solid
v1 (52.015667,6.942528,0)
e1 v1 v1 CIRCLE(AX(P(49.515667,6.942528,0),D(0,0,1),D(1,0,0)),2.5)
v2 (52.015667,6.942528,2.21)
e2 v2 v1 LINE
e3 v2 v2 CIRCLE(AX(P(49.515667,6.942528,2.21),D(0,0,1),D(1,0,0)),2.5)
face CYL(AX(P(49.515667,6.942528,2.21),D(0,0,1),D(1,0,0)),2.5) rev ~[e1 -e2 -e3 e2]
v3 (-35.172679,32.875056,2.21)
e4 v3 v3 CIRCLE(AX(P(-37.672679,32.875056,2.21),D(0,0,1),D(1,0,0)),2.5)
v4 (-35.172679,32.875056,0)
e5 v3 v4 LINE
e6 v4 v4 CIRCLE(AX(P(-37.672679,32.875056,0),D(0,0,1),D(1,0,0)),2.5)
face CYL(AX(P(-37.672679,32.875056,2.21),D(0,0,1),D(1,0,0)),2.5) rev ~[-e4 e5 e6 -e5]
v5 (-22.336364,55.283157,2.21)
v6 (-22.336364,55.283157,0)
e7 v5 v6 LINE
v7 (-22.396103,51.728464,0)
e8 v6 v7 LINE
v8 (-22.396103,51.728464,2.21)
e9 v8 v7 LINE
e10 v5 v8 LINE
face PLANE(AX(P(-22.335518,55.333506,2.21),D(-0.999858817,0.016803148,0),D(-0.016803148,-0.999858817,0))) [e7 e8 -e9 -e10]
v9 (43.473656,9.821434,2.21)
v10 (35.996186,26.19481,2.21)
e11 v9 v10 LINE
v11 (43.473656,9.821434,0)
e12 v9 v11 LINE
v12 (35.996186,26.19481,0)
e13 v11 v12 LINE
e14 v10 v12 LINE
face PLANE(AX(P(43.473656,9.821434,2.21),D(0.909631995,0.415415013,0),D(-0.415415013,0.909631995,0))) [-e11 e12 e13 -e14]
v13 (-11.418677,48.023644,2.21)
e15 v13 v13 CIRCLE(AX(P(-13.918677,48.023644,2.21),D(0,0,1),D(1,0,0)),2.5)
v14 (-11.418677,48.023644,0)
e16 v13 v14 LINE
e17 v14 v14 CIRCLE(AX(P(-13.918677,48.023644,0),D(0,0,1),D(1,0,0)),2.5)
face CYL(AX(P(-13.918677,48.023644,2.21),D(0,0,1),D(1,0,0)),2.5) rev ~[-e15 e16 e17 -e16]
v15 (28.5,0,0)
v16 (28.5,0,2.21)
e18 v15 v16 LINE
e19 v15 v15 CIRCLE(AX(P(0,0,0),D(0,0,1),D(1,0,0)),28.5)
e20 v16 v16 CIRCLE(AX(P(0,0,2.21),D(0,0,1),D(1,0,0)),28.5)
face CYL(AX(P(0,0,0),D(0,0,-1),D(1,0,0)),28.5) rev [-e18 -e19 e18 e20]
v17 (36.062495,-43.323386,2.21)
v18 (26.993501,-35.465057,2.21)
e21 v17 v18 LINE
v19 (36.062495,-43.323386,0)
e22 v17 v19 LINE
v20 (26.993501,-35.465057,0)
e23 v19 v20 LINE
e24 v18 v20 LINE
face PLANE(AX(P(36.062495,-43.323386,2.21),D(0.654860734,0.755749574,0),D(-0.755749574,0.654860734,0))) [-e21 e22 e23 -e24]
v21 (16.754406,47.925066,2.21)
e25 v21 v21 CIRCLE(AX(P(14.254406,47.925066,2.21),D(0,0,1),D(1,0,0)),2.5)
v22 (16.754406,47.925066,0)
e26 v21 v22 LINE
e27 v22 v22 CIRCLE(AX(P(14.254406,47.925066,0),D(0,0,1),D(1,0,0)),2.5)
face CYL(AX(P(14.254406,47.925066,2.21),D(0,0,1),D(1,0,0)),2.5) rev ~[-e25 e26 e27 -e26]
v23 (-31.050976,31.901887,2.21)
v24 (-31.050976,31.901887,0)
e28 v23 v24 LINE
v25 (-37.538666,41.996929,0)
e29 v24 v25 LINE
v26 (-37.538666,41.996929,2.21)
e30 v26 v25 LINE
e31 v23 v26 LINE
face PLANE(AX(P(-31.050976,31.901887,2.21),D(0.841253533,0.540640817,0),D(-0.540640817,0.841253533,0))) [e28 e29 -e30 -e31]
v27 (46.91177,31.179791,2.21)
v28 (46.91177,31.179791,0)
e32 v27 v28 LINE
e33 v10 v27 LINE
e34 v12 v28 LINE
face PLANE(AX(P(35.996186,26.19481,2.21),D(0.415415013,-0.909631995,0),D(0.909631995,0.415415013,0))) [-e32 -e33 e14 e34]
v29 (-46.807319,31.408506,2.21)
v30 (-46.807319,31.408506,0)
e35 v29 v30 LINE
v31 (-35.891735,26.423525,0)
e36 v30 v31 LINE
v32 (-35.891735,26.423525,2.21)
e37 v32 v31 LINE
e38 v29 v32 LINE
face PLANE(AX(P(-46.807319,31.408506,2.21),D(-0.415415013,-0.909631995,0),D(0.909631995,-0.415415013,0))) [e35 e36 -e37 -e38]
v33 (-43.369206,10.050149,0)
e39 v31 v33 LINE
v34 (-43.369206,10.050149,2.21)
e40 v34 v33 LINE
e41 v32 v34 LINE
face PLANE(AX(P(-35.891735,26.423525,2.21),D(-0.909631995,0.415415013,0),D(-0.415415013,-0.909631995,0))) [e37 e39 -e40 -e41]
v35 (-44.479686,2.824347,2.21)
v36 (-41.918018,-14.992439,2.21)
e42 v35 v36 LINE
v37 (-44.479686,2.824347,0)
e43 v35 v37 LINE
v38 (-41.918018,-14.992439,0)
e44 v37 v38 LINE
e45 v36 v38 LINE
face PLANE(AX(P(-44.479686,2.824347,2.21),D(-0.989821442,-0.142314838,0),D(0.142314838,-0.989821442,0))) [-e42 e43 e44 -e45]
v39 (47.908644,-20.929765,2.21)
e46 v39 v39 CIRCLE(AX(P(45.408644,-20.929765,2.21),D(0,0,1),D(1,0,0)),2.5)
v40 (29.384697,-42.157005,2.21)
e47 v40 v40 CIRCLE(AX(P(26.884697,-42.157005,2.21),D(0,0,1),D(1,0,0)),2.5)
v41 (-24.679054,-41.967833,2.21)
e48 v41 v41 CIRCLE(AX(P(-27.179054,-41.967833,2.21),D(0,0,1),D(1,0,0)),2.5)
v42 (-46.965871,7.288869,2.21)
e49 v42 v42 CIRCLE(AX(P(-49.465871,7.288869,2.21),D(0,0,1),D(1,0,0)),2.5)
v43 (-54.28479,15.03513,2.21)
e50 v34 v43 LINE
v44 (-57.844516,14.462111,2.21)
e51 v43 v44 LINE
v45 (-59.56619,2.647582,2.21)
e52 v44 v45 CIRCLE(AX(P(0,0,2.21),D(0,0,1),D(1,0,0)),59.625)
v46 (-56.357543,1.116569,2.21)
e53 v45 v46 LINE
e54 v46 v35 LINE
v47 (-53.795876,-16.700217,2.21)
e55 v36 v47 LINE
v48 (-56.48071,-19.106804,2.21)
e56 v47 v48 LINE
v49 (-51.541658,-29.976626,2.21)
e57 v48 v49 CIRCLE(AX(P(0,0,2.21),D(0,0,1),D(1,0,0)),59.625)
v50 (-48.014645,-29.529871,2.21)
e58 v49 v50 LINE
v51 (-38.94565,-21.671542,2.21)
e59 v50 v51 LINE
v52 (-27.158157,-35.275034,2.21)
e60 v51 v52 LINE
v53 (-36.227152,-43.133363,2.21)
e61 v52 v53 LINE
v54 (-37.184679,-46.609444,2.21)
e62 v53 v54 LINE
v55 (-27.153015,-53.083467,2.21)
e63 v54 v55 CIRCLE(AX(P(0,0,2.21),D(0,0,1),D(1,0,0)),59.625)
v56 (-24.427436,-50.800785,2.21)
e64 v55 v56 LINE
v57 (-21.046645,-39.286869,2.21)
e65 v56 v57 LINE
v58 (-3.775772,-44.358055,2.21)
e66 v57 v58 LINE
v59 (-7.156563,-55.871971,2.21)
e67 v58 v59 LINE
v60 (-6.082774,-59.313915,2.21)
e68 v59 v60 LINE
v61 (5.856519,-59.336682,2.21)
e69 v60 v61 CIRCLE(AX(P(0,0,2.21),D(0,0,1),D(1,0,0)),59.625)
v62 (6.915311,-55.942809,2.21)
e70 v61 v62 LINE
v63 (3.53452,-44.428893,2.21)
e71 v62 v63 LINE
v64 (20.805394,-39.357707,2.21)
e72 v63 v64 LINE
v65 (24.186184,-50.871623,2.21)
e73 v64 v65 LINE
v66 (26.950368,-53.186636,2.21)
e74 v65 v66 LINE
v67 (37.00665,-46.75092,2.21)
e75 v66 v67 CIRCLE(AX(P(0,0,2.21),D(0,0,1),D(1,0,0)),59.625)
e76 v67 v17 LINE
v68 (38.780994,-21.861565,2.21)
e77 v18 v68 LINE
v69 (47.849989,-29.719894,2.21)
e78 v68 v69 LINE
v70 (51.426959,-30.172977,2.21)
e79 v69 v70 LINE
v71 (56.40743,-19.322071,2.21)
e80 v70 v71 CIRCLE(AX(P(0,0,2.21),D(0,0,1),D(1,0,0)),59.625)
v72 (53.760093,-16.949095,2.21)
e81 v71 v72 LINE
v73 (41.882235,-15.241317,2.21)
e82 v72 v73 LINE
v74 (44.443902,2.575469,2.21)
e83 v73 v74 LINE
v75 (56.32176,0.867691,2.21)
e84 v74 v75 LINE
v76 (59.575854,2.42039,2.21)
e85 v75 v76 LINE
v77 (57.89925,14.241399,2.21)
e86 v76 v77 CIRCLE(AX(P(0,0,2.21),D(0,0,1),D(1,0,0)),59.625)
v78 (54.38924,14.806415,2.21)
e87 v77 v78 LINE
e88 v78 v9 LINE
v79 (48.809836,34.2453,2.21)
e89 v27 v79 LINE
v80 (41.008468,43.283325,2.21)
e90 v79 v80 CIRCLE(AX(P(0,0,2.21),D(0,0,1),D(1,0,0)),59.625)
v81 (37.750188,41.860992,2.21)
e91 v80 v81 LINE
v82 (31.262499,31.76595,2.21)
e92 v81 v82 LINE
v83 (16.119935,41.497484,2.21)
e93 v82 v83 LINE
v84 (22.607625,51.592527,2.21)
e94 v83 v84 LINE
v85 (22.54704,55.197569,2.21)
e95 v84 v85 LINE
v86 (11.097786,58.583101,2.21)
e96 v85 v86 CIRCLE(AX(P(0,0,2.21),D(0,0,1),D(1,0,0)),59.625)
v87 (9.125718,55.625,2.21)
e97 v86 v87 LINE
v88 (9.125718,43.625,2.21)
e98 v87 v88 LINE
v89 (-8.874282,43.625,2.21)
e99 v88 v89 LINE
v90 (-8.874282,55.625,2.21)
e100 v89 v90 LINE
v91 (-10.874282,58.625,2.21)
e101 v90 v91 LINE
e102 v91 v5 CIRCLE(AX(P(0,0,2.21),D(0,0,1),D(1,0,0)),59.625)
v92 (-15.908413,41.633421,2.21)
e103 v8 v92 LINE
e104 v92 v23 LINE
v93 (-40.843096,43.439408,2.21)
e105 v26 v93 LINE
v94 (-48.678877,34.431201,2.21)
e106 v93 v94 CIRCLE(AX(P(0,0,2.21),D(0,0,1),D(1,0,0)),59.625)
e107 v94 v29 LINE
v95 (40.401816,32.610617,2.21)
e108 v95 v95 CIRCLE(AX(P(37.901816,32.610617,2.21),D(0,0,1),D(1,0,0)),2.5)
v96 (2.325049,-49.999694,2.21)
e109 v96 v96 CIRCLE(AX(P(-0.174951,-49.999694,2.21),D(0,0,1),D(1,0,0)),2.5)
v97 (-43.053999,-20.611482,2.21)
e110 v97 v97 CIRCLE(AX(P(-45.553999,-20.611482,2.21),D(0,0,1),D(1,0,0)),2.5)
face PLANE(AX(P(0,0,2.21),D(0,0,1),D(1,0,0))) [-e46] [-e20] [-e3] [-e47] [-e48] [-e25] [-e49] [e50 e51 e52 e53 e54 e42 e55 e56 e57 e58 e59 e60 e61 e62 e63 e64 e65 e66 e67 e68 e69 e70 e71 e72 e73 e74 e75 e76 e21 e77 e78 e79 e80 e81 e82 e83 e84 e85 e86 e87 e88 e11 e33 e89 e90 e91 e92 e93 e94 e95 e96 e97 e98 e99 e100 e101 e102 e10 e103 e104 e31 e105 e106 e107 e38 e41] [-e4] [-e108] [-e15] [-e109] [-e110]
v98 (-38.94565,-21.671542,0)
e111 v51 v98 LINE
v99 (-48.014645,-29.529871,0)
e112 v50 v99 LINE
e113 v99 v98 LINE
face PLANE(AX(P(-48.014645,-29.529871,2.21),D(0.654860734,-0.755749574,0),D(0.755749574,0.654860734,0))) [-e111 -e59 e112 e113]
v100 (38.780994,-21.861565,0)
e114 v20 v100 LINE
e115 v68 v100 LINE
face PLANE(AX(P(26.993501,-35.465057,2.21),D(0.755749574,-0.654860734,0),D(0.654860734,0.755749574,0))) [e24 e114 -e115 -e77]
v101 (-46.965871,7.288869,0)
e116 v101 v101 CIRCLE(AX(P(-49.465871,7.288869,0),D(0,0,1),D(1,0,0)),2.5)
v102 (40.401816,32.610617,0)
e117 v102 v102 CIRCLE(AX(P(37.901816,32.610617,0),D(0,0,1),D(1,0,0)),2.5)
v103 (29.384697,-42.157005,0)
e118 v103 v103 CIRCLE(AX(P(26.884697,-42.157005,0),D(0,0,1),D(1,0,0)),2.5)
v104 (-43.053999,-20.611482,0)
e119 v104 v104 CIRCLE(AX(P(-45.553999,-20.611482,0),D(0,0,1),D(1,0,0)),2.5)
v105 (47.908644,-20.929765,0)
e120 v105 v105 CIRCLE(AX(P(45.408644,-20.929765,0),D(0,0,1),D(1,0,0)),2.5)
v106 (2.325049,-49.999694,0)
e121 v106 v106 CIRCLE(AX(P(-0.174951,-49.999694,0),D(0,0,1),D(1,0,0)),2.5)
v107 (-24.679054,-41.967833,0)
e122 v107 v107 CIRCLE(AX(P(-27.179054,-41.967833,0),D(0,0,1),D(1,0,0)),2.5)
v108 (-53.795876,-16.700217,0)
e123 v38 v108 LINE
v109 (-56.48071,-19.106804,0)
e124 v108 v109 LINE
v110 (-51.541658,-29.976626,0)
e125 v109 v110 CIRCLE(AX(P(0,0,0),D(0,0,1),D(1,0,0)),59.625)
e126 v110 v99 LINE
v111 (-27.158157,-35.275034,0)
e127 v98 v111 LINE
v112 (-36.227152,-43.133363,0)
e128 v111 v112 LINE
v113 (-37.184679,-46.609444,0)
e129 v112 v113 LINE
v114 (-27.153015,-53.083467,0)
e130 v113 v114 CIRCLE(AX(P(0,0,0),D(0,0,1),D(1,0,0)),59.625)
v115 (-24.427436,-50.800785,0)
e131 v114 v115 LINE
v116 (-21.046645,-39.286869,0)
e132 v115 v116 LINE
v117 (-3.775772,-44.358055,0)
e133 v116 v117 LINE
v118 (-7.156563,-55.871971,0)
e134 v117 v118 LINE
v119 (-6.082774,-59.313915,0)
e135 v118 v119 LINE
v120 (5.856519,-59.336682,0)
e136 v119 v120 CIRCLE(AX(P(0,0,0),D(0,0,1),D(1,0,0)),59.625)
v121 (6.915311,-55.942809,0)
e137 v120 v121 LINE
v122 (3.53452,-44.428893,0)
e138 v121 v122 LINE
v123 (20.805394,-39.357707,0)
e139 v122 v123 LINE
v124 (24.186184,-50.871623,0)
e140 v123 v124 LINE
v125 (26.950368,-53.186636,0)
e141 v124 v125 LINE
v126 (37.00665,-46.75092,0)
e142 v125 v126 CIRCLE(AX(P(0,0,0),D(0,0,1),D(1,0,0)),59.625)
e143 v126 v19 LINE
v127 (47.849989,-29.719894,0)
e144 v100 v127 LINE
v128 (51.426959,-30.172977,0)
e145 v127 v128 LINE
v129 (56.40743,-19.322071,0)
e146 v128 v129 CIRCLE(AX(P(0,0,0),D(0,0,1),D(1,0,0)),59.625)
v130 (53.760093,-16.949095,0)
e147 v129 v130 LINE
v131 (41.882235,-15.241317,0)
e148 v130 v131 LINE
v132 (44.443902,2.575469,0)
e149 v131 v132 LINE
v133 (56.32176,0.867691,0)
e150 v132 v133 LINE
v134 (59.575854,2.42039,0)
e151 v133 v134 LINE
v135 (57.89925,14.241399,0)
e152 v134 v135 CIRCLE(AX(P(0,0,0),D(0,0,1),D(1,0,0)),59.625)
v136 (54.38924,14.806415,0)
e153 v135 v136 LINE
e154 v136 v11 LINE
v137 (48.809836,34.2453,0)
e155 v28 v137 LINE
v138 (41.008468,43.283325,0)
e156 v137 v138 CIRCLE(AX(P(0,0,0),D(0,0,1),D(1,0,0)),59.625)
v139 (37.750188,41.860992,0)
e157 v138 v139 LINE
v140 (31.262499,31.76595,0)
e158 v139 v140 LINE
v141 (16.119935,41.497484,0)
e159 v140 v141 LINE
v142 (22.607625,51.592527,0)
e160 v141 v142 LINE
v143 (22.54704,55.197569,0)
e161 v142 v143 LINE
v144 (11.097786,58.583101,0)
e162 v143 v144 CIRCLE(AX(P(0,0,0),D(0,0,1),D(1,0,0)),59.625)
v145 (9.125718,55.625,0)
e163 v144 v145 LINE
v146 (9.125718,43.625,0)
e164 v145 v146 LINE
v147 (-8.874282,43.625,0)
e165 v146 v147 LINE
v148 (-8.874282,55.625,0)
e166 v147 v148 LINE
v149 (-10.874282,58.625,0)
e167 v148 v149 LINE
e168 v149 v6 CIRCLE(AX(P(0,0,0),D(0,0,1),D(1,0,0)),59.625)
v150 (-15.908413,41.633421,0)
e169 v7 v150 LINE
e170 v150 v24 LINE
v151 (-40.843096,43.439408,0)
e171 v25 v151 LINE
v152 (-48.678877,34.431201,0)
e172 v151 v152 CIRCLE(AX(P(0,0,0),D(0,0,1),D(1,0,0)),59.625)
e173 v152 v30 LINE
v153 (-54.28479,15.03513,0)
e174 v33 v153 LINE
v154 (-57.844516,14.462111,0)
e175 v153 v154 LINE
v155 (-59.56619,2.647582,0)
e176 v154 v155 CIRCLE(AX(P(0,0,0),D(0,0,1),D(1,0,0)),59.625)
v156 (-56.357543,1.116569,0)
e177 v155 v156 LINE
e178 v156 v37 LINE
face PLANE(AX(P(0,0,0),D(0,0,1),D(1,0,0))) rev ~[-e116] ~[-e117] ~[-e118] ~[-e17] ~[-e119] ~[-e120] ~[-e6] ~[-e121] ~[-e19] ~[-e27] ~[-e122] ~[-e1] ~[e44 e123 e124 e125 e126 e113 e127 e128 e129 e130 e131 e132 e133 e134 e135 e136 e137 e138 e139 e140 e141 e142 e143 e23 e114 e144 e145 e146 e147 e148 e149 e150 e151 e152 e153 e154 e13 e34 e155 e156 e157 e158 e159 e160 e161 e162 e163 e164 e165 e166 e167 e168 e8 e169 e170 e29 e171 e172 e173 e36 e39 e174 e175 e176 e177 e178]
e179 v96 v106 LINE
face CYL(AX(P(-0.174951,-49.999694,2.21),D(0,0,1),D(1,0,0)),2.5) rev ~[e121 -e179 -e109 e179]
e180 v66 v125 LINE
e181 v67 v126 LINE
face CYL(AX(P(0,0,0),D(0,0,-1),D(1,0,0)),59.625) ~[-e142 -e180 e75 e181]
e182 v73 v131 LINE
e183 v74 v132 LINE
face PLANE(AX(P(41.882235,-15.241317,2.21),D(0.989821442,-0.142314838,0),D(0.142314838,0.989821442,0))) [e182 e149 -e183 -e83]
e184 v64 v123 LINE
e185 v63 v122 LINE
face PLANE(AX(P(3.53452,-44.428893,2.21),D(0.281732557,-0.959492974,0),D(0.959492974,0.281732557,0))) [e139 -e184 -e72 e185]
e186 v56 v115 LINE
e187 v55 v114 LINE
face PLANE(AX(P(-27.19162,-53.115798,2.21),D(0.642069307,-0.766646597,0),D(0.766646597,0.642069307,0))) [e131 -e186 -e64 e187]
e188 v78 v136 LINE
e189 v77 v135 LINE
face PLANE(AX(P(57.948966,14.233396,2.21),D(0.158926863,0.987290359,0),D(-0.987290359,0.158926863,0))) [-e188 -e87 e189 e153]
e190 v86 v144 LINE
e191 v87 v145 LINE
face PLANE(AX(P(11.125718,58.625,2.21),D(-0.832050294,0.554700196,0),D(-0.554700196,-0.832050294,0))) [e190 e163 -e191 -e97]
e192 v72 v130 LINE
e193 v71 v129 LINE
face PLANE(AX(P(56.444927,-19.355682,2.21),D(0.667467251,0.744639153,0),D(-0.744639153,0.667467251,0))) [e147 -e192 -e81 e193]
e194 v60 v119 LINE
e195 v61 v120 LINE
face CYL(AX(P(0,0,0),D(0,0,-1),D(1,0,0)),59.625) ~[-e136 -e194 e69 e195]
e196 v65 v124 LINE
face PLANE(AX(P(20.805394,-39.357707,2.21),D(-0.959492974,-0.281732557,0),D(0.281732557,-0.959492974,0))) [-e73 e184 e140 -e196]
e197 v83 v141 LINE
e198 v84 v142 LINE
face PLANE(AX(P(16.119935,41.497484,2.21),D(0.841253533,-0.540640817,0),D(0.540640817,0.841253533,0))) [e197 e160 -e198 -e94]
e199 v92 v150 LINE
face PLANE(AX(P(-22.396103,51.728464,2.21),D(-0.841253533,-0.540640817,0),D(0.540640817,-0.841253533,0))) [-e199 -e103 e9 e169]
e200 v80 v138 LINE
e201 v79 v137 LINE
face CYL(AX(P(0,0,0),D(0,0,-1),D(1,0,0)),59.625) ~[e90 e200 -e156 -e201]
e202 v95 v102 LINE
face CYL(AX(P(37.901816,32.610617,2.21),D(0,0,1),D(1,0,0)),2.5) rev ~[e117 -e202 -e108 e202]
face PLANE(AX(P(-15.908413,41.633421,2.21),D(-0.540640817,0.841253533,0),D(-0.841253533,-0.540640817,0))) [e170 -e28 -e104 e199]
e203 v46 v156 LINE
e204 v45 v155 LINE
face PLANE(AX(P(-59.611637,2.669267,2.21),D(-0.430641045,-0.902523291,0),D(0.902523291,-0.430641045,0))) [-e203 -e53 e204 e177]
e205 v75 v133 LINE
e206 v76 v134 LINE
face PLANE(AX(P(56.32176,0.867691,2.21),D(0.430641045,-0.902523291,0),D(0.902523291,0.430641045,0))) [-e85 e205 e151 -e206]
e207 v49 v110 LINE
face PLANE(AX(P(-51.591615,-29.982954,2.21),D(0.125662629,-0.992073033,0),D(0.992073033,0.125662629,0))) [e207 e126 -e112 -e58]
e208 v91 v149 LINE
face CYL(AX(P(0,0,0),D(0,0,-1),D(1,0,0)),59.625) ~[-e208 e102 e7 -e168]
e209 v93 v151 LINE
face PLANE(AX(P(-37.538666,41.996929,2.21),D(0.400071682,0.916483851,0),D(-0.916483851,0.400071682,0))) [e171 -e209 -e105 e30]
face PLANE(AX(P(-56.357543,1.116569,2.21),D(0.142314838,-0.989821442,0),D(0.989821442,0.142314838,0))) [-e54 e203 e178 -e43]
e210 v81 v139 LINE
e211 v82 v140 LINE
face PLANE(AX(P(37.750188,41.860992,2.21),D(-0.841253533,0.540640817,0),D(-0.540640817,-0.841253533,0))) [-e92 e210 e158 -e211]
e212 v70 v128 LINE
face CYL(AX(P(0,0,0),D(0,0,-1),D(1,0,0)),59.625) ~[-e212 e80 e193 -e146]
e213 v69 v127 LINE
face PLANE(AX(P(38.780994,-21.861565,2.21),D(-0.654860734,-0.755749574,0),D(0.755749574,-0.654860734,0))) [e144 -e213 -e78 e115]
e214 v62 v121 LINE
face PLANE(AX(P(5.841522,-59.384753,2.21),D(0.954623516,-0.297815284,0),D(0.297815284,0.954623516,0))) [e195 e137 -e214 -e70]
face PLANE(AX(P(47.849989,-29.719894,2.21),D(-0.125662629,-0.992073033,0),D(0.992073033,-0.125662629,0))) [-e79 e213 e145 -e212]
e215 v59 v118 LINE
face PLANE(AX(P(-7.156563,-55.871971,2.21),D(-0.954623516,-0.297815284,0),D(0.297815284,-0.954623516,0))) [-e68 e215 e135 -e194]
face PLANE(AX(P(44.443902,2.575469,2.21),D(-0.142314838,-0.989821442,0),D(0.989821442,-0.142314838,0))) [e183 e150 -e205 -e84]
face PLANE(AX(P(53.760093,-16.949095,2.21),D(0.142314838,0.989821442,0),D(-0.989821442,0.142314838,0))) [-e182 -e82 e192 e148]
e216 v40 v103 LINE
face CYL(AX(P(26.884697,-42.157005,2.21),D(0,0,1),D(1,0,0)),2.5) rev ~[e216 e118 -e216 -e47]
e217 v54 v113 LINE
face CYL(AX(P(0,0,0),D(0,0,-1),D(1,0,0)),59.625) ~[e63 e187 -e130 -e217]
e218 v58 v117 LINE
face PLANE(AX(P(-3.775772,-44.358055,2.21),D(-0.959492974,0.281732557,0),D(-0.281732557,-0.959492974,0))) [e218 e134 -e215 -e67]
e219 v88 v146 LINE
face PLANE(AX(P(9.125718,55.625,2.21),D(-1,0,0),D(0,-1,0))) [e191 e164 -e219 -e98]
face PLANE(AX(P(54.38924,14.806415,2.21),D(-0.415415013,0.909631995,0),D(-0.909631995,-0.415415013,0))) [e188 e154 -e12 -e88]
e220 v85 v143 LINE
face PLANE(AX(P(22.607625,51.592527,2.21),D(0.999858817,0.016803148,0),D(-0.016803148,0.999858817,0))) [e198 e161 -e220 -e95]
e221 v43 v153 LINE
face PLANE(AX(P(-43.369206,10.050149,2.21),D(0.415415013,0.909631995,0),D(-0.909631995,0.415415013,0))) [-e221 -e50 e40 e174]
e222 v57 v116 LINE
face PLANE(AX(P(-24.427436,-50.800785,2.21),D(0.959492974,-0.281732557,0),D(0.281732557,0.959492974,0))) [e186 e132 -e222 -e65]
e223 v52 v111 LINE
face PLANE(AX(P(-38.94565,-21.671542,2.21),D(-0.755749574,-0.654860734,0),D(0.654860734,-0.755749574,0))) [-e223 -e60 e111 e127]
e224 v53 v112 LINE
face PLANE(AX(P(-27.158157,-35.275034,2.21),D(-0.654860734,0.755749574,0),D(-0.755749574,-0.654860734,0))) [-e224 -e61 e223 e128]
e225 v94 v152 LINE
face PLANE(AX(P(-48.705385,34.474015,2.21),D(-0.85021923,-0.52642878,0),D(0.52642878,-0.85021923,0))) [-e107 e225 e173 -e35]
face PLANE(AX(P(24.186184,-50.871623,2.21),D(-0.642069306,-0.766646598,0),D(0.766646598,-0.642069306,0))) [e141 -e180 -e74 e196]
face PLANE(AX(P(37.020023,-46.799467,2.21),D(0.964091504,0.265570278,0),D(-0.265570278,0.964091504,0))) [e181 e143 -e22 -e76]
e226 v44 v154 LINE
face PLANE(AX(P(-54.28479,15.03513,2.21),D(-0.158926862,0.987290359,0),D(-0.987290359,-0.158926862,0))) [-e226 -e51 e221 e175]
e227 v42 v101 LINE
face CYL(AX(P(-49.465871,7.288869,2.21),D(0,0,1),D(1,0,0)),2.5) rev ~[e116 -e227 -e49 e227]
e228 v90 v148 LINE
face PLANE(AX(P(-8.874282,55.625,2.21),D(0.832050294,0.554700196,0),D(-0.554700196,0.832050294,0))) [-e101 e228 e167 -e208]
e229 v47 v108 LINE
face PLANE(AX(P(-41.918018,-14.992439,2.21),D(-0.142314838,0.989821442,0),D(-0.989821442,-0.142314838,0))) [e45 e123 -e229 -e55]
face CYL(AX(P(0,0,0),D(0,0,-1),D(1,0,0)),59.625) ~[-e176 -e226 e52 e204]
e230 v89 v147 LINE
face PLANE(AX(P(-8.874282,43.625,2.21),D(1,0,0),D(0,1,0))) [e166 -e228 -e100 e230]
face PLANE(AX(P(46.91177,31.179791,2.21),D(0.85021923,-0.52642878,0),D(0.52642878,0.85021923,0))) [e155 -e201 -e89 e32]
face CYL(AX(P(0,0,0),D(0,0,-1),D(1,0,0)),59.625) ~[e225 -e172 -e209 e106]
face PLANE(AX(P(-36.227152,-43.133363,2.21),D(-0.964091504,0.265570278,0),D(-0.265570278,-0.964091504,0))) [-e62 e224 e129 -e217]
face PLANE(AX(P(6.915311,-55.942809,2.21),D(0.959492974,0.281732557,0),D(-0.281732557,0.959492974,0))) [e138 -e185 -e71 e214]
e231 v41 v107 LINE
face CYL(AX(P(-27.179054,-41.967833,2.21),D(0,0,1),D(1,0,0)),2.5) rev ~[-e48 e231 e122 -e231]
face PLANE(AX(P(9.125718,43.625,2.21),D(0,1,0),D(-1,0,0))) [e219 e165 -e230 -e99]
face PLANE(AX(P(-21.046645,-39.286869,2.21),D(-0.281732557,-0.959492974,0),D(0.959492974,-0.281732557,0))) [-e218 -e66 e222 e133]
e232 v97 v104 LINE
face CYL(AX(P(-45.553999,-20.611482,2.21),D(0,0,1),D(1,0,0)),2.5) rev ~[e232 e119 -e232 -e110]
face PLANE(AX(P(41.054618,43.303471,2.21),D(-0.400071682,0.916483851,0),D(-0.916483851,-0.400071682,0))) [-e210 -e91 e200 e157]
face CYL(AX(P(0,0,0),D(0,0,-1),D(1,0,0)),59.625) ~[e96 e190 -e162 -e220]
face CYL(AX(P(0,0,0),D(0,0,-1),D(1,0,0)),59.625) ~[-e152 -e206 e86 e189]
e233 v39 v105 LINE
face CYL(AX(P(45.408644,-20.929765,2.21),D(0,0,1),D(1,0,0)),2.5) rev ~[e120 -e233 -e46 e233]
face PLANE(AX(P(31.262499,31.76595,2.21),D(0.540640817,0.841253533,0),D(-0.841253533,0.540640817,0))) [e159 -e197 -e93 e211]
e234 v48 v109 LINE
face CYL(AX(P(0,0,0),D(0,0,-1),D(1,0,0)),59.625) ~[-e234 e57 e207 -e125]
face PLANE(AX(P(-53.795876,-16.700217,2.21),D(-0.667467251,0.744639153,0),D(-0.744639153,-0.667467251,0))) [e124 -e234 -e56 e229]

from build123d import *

# Parameters (mm, degrees)
SKETCH1_R           = 59.625
SKETCH1_R_2         = 28.5
BOSS_EXTRUDE1_DEPTH = 2.21
CUT_EXTRUDE2_DEPTH  = 2.21
SKETCH6_R           = 2.5
CUT_EXTRUDE4_DEPTH  = 2.21


with BuildPart() as part:
    # Sketch1 → Boss-Extrude1 (new body)
    with BuildSketch(Plane.XY):
        Circle(SKETCH1_R)
        Circle(SKETCH1_R_2, mode=Mode.SUBTRACT)
    extrude(amount=BOSS_EXTRUDE1_DEPTH)

    # Sketch2 → Cut-Extrude2 (cut)
    with BuildSketch(Plane.XY.offset(2.21)):
        Polygon((-8.874281585, 55.625), (-10.874281585, 58.625), (-8.874281585, 59.625), (9.125718415, 59.625), (11.125718415, 58.625), (9.125718415, 55.625), (9.125718415, 43.625), (-8.874281585, 43.625), align=None)
        Polygon((22.607624736, 51.592526614), (22.547040123, 55.197568848), (24.770188006, 54.957540746), (39.912751597, 45.226006032), (41.054617845, 43.303470864), (37.750188327, 41.8609919), (31.262498517, 31.765949506), (16.119934926, 41.49748422), align=None)
        Polygon((46.911769941, 31.179790564), (48.809835901, 34.245299594), (50.550297923, 32.841450616), (58.027768157, 16.4680747), (57.948966187, 14.233395696), (54.389240175, 14.806414648), (43.473656231, 9.821434492), (35.996185997, 26.194810408), align=None)
        Polygon((56.321759653, 0.867691316), (59.575853655, 2.420389685), (60.281045421, 0.298431963), (57.719378332, -17.518353991), (56.444927213, -19.355682037), (53.760092564, -16.949094638), (41.882235262, -15.241316579), (44.443902351, 2.575469375), align=None)
        Polygon((47.849988626, -29.719893795), (51.426958817, -30.172976848), (50.872986923, -32.339336731), (39.085493712, -45.942829069), (37.02002267, -46.799467484), (36.062495415, -43.323386133), (26.993500522, -35.465057326), (38.780993734, -21.861564987), align=None)
        Polygon((24.186184301, -50.871622616), (26.950367919, -53.186636423), (25.313114529, -54.709594511), (8.042241004, -59.780780534), (5.8415225, -59.384752674), (6.915310776, -55.942808639), (3.534520094, -44.428892956), (20.805393619, -39.357706933), align=None)
        Polygon((-7.156562647, -55.871970699), (-6.08277437, -59.313914733), (-8.283492875, -59.709942593), (-25.5543664, -54.63875657), (-27.19161979, -53.115798483), (-24.427436172, -50.800784675), (-21.04664549, -39.286868992), (-3.775771965, -44.358055015), align=None)
        Polygon((-36.227151521, -43.133362857), (-37.184678776, -46.609444207), (-39.250149819, -45.752805792), (-51.03764303, -32.149313454), (-51.591614923, -29.982953571), (-48.014644732, -29.529870518), (-38.94564984, -21.671541711), (-27.158156629, -35.275034049), align=None)
        Polygon((-53.795875756, -16.700217074), (-56.480710405, -19.106804472), (-57.755161524, -17.269476427), (-60.316828612, 0.547309527), (-59.611636847, 2.669267249), (-56.357542845, 1.11656888), (-44.479685542, 2.82434694), (-41.918018453, -14.992439014), align=None)
        Polygon((-54.284789542, 15.035129632), (-57.844515554, 14.462110681), (-57.923317523, 16.696789684), (-50.445847289, 33.070165601), (-48.705385268, 34.474014578), (-46.807319308, 31.408505549), (-35.891735364, 26.423525393), (-43.369205598, 10.050149476), align=None)
        Polygon((-37.538666206, 41.996928913), (-40.843095724, 43.439407877), (-39.701229476, 45.361943044), (-24.558665885, 55.093477759), (-22.335518002, 55.333505861), (-22.396102615, 51.728463627), (-15.908412806, 41.633421233), (-31.050976397, 31.901886519), align=None)
    extrude(amount=-CUT_EXTRUDE2_DEPTH, mode=Mode.SUBTRACT)

    # Sketch6 → Cut-Extrude4 (cut)
    with BuildSketch(Plane.XY.offset(2.21)):
        with Locations((-13.918677225, 48.02364443)):
            Circle(SKETCH6_R)
        with Locations((14.254405994, 47.925065569)):
            Circle(SKETCH6_R)
        with Locations((37.901816027, 32.610617012)):
            Circle(SKETCH6_R)
        with Locations((49.515667272, 6.942527969)):
            Circle(SKETCH6_R)
        with Locations((45.40864402, -20.92976465)):
            Circle(SKETCH6_R)
        with Locations((26.884697133, -42.157004875)):
            Circle(SKETCH6_R)
        with Locations((-0.174951135, -49.99969392)):
            Circle(SKETCH6_R)
        with Locations((-27.179053654, -41.967833426)):
            Circle(SKETCH6_R)
        with Locations((-45.553998676, -20.61148235)):
            Circle(SKETCH6_R)
        with Locations((-49.465870987, 7.288868739)):
            Circle(SKETCH6_R)
        with Locations((-37.672678769, 32.875055503)):
            Circle(SKETCH6_R)
    extrude(amount=-CUT_EXTRUDE4_DEPTH, mode=Mode.SUBTRACT)


solid = part.part
